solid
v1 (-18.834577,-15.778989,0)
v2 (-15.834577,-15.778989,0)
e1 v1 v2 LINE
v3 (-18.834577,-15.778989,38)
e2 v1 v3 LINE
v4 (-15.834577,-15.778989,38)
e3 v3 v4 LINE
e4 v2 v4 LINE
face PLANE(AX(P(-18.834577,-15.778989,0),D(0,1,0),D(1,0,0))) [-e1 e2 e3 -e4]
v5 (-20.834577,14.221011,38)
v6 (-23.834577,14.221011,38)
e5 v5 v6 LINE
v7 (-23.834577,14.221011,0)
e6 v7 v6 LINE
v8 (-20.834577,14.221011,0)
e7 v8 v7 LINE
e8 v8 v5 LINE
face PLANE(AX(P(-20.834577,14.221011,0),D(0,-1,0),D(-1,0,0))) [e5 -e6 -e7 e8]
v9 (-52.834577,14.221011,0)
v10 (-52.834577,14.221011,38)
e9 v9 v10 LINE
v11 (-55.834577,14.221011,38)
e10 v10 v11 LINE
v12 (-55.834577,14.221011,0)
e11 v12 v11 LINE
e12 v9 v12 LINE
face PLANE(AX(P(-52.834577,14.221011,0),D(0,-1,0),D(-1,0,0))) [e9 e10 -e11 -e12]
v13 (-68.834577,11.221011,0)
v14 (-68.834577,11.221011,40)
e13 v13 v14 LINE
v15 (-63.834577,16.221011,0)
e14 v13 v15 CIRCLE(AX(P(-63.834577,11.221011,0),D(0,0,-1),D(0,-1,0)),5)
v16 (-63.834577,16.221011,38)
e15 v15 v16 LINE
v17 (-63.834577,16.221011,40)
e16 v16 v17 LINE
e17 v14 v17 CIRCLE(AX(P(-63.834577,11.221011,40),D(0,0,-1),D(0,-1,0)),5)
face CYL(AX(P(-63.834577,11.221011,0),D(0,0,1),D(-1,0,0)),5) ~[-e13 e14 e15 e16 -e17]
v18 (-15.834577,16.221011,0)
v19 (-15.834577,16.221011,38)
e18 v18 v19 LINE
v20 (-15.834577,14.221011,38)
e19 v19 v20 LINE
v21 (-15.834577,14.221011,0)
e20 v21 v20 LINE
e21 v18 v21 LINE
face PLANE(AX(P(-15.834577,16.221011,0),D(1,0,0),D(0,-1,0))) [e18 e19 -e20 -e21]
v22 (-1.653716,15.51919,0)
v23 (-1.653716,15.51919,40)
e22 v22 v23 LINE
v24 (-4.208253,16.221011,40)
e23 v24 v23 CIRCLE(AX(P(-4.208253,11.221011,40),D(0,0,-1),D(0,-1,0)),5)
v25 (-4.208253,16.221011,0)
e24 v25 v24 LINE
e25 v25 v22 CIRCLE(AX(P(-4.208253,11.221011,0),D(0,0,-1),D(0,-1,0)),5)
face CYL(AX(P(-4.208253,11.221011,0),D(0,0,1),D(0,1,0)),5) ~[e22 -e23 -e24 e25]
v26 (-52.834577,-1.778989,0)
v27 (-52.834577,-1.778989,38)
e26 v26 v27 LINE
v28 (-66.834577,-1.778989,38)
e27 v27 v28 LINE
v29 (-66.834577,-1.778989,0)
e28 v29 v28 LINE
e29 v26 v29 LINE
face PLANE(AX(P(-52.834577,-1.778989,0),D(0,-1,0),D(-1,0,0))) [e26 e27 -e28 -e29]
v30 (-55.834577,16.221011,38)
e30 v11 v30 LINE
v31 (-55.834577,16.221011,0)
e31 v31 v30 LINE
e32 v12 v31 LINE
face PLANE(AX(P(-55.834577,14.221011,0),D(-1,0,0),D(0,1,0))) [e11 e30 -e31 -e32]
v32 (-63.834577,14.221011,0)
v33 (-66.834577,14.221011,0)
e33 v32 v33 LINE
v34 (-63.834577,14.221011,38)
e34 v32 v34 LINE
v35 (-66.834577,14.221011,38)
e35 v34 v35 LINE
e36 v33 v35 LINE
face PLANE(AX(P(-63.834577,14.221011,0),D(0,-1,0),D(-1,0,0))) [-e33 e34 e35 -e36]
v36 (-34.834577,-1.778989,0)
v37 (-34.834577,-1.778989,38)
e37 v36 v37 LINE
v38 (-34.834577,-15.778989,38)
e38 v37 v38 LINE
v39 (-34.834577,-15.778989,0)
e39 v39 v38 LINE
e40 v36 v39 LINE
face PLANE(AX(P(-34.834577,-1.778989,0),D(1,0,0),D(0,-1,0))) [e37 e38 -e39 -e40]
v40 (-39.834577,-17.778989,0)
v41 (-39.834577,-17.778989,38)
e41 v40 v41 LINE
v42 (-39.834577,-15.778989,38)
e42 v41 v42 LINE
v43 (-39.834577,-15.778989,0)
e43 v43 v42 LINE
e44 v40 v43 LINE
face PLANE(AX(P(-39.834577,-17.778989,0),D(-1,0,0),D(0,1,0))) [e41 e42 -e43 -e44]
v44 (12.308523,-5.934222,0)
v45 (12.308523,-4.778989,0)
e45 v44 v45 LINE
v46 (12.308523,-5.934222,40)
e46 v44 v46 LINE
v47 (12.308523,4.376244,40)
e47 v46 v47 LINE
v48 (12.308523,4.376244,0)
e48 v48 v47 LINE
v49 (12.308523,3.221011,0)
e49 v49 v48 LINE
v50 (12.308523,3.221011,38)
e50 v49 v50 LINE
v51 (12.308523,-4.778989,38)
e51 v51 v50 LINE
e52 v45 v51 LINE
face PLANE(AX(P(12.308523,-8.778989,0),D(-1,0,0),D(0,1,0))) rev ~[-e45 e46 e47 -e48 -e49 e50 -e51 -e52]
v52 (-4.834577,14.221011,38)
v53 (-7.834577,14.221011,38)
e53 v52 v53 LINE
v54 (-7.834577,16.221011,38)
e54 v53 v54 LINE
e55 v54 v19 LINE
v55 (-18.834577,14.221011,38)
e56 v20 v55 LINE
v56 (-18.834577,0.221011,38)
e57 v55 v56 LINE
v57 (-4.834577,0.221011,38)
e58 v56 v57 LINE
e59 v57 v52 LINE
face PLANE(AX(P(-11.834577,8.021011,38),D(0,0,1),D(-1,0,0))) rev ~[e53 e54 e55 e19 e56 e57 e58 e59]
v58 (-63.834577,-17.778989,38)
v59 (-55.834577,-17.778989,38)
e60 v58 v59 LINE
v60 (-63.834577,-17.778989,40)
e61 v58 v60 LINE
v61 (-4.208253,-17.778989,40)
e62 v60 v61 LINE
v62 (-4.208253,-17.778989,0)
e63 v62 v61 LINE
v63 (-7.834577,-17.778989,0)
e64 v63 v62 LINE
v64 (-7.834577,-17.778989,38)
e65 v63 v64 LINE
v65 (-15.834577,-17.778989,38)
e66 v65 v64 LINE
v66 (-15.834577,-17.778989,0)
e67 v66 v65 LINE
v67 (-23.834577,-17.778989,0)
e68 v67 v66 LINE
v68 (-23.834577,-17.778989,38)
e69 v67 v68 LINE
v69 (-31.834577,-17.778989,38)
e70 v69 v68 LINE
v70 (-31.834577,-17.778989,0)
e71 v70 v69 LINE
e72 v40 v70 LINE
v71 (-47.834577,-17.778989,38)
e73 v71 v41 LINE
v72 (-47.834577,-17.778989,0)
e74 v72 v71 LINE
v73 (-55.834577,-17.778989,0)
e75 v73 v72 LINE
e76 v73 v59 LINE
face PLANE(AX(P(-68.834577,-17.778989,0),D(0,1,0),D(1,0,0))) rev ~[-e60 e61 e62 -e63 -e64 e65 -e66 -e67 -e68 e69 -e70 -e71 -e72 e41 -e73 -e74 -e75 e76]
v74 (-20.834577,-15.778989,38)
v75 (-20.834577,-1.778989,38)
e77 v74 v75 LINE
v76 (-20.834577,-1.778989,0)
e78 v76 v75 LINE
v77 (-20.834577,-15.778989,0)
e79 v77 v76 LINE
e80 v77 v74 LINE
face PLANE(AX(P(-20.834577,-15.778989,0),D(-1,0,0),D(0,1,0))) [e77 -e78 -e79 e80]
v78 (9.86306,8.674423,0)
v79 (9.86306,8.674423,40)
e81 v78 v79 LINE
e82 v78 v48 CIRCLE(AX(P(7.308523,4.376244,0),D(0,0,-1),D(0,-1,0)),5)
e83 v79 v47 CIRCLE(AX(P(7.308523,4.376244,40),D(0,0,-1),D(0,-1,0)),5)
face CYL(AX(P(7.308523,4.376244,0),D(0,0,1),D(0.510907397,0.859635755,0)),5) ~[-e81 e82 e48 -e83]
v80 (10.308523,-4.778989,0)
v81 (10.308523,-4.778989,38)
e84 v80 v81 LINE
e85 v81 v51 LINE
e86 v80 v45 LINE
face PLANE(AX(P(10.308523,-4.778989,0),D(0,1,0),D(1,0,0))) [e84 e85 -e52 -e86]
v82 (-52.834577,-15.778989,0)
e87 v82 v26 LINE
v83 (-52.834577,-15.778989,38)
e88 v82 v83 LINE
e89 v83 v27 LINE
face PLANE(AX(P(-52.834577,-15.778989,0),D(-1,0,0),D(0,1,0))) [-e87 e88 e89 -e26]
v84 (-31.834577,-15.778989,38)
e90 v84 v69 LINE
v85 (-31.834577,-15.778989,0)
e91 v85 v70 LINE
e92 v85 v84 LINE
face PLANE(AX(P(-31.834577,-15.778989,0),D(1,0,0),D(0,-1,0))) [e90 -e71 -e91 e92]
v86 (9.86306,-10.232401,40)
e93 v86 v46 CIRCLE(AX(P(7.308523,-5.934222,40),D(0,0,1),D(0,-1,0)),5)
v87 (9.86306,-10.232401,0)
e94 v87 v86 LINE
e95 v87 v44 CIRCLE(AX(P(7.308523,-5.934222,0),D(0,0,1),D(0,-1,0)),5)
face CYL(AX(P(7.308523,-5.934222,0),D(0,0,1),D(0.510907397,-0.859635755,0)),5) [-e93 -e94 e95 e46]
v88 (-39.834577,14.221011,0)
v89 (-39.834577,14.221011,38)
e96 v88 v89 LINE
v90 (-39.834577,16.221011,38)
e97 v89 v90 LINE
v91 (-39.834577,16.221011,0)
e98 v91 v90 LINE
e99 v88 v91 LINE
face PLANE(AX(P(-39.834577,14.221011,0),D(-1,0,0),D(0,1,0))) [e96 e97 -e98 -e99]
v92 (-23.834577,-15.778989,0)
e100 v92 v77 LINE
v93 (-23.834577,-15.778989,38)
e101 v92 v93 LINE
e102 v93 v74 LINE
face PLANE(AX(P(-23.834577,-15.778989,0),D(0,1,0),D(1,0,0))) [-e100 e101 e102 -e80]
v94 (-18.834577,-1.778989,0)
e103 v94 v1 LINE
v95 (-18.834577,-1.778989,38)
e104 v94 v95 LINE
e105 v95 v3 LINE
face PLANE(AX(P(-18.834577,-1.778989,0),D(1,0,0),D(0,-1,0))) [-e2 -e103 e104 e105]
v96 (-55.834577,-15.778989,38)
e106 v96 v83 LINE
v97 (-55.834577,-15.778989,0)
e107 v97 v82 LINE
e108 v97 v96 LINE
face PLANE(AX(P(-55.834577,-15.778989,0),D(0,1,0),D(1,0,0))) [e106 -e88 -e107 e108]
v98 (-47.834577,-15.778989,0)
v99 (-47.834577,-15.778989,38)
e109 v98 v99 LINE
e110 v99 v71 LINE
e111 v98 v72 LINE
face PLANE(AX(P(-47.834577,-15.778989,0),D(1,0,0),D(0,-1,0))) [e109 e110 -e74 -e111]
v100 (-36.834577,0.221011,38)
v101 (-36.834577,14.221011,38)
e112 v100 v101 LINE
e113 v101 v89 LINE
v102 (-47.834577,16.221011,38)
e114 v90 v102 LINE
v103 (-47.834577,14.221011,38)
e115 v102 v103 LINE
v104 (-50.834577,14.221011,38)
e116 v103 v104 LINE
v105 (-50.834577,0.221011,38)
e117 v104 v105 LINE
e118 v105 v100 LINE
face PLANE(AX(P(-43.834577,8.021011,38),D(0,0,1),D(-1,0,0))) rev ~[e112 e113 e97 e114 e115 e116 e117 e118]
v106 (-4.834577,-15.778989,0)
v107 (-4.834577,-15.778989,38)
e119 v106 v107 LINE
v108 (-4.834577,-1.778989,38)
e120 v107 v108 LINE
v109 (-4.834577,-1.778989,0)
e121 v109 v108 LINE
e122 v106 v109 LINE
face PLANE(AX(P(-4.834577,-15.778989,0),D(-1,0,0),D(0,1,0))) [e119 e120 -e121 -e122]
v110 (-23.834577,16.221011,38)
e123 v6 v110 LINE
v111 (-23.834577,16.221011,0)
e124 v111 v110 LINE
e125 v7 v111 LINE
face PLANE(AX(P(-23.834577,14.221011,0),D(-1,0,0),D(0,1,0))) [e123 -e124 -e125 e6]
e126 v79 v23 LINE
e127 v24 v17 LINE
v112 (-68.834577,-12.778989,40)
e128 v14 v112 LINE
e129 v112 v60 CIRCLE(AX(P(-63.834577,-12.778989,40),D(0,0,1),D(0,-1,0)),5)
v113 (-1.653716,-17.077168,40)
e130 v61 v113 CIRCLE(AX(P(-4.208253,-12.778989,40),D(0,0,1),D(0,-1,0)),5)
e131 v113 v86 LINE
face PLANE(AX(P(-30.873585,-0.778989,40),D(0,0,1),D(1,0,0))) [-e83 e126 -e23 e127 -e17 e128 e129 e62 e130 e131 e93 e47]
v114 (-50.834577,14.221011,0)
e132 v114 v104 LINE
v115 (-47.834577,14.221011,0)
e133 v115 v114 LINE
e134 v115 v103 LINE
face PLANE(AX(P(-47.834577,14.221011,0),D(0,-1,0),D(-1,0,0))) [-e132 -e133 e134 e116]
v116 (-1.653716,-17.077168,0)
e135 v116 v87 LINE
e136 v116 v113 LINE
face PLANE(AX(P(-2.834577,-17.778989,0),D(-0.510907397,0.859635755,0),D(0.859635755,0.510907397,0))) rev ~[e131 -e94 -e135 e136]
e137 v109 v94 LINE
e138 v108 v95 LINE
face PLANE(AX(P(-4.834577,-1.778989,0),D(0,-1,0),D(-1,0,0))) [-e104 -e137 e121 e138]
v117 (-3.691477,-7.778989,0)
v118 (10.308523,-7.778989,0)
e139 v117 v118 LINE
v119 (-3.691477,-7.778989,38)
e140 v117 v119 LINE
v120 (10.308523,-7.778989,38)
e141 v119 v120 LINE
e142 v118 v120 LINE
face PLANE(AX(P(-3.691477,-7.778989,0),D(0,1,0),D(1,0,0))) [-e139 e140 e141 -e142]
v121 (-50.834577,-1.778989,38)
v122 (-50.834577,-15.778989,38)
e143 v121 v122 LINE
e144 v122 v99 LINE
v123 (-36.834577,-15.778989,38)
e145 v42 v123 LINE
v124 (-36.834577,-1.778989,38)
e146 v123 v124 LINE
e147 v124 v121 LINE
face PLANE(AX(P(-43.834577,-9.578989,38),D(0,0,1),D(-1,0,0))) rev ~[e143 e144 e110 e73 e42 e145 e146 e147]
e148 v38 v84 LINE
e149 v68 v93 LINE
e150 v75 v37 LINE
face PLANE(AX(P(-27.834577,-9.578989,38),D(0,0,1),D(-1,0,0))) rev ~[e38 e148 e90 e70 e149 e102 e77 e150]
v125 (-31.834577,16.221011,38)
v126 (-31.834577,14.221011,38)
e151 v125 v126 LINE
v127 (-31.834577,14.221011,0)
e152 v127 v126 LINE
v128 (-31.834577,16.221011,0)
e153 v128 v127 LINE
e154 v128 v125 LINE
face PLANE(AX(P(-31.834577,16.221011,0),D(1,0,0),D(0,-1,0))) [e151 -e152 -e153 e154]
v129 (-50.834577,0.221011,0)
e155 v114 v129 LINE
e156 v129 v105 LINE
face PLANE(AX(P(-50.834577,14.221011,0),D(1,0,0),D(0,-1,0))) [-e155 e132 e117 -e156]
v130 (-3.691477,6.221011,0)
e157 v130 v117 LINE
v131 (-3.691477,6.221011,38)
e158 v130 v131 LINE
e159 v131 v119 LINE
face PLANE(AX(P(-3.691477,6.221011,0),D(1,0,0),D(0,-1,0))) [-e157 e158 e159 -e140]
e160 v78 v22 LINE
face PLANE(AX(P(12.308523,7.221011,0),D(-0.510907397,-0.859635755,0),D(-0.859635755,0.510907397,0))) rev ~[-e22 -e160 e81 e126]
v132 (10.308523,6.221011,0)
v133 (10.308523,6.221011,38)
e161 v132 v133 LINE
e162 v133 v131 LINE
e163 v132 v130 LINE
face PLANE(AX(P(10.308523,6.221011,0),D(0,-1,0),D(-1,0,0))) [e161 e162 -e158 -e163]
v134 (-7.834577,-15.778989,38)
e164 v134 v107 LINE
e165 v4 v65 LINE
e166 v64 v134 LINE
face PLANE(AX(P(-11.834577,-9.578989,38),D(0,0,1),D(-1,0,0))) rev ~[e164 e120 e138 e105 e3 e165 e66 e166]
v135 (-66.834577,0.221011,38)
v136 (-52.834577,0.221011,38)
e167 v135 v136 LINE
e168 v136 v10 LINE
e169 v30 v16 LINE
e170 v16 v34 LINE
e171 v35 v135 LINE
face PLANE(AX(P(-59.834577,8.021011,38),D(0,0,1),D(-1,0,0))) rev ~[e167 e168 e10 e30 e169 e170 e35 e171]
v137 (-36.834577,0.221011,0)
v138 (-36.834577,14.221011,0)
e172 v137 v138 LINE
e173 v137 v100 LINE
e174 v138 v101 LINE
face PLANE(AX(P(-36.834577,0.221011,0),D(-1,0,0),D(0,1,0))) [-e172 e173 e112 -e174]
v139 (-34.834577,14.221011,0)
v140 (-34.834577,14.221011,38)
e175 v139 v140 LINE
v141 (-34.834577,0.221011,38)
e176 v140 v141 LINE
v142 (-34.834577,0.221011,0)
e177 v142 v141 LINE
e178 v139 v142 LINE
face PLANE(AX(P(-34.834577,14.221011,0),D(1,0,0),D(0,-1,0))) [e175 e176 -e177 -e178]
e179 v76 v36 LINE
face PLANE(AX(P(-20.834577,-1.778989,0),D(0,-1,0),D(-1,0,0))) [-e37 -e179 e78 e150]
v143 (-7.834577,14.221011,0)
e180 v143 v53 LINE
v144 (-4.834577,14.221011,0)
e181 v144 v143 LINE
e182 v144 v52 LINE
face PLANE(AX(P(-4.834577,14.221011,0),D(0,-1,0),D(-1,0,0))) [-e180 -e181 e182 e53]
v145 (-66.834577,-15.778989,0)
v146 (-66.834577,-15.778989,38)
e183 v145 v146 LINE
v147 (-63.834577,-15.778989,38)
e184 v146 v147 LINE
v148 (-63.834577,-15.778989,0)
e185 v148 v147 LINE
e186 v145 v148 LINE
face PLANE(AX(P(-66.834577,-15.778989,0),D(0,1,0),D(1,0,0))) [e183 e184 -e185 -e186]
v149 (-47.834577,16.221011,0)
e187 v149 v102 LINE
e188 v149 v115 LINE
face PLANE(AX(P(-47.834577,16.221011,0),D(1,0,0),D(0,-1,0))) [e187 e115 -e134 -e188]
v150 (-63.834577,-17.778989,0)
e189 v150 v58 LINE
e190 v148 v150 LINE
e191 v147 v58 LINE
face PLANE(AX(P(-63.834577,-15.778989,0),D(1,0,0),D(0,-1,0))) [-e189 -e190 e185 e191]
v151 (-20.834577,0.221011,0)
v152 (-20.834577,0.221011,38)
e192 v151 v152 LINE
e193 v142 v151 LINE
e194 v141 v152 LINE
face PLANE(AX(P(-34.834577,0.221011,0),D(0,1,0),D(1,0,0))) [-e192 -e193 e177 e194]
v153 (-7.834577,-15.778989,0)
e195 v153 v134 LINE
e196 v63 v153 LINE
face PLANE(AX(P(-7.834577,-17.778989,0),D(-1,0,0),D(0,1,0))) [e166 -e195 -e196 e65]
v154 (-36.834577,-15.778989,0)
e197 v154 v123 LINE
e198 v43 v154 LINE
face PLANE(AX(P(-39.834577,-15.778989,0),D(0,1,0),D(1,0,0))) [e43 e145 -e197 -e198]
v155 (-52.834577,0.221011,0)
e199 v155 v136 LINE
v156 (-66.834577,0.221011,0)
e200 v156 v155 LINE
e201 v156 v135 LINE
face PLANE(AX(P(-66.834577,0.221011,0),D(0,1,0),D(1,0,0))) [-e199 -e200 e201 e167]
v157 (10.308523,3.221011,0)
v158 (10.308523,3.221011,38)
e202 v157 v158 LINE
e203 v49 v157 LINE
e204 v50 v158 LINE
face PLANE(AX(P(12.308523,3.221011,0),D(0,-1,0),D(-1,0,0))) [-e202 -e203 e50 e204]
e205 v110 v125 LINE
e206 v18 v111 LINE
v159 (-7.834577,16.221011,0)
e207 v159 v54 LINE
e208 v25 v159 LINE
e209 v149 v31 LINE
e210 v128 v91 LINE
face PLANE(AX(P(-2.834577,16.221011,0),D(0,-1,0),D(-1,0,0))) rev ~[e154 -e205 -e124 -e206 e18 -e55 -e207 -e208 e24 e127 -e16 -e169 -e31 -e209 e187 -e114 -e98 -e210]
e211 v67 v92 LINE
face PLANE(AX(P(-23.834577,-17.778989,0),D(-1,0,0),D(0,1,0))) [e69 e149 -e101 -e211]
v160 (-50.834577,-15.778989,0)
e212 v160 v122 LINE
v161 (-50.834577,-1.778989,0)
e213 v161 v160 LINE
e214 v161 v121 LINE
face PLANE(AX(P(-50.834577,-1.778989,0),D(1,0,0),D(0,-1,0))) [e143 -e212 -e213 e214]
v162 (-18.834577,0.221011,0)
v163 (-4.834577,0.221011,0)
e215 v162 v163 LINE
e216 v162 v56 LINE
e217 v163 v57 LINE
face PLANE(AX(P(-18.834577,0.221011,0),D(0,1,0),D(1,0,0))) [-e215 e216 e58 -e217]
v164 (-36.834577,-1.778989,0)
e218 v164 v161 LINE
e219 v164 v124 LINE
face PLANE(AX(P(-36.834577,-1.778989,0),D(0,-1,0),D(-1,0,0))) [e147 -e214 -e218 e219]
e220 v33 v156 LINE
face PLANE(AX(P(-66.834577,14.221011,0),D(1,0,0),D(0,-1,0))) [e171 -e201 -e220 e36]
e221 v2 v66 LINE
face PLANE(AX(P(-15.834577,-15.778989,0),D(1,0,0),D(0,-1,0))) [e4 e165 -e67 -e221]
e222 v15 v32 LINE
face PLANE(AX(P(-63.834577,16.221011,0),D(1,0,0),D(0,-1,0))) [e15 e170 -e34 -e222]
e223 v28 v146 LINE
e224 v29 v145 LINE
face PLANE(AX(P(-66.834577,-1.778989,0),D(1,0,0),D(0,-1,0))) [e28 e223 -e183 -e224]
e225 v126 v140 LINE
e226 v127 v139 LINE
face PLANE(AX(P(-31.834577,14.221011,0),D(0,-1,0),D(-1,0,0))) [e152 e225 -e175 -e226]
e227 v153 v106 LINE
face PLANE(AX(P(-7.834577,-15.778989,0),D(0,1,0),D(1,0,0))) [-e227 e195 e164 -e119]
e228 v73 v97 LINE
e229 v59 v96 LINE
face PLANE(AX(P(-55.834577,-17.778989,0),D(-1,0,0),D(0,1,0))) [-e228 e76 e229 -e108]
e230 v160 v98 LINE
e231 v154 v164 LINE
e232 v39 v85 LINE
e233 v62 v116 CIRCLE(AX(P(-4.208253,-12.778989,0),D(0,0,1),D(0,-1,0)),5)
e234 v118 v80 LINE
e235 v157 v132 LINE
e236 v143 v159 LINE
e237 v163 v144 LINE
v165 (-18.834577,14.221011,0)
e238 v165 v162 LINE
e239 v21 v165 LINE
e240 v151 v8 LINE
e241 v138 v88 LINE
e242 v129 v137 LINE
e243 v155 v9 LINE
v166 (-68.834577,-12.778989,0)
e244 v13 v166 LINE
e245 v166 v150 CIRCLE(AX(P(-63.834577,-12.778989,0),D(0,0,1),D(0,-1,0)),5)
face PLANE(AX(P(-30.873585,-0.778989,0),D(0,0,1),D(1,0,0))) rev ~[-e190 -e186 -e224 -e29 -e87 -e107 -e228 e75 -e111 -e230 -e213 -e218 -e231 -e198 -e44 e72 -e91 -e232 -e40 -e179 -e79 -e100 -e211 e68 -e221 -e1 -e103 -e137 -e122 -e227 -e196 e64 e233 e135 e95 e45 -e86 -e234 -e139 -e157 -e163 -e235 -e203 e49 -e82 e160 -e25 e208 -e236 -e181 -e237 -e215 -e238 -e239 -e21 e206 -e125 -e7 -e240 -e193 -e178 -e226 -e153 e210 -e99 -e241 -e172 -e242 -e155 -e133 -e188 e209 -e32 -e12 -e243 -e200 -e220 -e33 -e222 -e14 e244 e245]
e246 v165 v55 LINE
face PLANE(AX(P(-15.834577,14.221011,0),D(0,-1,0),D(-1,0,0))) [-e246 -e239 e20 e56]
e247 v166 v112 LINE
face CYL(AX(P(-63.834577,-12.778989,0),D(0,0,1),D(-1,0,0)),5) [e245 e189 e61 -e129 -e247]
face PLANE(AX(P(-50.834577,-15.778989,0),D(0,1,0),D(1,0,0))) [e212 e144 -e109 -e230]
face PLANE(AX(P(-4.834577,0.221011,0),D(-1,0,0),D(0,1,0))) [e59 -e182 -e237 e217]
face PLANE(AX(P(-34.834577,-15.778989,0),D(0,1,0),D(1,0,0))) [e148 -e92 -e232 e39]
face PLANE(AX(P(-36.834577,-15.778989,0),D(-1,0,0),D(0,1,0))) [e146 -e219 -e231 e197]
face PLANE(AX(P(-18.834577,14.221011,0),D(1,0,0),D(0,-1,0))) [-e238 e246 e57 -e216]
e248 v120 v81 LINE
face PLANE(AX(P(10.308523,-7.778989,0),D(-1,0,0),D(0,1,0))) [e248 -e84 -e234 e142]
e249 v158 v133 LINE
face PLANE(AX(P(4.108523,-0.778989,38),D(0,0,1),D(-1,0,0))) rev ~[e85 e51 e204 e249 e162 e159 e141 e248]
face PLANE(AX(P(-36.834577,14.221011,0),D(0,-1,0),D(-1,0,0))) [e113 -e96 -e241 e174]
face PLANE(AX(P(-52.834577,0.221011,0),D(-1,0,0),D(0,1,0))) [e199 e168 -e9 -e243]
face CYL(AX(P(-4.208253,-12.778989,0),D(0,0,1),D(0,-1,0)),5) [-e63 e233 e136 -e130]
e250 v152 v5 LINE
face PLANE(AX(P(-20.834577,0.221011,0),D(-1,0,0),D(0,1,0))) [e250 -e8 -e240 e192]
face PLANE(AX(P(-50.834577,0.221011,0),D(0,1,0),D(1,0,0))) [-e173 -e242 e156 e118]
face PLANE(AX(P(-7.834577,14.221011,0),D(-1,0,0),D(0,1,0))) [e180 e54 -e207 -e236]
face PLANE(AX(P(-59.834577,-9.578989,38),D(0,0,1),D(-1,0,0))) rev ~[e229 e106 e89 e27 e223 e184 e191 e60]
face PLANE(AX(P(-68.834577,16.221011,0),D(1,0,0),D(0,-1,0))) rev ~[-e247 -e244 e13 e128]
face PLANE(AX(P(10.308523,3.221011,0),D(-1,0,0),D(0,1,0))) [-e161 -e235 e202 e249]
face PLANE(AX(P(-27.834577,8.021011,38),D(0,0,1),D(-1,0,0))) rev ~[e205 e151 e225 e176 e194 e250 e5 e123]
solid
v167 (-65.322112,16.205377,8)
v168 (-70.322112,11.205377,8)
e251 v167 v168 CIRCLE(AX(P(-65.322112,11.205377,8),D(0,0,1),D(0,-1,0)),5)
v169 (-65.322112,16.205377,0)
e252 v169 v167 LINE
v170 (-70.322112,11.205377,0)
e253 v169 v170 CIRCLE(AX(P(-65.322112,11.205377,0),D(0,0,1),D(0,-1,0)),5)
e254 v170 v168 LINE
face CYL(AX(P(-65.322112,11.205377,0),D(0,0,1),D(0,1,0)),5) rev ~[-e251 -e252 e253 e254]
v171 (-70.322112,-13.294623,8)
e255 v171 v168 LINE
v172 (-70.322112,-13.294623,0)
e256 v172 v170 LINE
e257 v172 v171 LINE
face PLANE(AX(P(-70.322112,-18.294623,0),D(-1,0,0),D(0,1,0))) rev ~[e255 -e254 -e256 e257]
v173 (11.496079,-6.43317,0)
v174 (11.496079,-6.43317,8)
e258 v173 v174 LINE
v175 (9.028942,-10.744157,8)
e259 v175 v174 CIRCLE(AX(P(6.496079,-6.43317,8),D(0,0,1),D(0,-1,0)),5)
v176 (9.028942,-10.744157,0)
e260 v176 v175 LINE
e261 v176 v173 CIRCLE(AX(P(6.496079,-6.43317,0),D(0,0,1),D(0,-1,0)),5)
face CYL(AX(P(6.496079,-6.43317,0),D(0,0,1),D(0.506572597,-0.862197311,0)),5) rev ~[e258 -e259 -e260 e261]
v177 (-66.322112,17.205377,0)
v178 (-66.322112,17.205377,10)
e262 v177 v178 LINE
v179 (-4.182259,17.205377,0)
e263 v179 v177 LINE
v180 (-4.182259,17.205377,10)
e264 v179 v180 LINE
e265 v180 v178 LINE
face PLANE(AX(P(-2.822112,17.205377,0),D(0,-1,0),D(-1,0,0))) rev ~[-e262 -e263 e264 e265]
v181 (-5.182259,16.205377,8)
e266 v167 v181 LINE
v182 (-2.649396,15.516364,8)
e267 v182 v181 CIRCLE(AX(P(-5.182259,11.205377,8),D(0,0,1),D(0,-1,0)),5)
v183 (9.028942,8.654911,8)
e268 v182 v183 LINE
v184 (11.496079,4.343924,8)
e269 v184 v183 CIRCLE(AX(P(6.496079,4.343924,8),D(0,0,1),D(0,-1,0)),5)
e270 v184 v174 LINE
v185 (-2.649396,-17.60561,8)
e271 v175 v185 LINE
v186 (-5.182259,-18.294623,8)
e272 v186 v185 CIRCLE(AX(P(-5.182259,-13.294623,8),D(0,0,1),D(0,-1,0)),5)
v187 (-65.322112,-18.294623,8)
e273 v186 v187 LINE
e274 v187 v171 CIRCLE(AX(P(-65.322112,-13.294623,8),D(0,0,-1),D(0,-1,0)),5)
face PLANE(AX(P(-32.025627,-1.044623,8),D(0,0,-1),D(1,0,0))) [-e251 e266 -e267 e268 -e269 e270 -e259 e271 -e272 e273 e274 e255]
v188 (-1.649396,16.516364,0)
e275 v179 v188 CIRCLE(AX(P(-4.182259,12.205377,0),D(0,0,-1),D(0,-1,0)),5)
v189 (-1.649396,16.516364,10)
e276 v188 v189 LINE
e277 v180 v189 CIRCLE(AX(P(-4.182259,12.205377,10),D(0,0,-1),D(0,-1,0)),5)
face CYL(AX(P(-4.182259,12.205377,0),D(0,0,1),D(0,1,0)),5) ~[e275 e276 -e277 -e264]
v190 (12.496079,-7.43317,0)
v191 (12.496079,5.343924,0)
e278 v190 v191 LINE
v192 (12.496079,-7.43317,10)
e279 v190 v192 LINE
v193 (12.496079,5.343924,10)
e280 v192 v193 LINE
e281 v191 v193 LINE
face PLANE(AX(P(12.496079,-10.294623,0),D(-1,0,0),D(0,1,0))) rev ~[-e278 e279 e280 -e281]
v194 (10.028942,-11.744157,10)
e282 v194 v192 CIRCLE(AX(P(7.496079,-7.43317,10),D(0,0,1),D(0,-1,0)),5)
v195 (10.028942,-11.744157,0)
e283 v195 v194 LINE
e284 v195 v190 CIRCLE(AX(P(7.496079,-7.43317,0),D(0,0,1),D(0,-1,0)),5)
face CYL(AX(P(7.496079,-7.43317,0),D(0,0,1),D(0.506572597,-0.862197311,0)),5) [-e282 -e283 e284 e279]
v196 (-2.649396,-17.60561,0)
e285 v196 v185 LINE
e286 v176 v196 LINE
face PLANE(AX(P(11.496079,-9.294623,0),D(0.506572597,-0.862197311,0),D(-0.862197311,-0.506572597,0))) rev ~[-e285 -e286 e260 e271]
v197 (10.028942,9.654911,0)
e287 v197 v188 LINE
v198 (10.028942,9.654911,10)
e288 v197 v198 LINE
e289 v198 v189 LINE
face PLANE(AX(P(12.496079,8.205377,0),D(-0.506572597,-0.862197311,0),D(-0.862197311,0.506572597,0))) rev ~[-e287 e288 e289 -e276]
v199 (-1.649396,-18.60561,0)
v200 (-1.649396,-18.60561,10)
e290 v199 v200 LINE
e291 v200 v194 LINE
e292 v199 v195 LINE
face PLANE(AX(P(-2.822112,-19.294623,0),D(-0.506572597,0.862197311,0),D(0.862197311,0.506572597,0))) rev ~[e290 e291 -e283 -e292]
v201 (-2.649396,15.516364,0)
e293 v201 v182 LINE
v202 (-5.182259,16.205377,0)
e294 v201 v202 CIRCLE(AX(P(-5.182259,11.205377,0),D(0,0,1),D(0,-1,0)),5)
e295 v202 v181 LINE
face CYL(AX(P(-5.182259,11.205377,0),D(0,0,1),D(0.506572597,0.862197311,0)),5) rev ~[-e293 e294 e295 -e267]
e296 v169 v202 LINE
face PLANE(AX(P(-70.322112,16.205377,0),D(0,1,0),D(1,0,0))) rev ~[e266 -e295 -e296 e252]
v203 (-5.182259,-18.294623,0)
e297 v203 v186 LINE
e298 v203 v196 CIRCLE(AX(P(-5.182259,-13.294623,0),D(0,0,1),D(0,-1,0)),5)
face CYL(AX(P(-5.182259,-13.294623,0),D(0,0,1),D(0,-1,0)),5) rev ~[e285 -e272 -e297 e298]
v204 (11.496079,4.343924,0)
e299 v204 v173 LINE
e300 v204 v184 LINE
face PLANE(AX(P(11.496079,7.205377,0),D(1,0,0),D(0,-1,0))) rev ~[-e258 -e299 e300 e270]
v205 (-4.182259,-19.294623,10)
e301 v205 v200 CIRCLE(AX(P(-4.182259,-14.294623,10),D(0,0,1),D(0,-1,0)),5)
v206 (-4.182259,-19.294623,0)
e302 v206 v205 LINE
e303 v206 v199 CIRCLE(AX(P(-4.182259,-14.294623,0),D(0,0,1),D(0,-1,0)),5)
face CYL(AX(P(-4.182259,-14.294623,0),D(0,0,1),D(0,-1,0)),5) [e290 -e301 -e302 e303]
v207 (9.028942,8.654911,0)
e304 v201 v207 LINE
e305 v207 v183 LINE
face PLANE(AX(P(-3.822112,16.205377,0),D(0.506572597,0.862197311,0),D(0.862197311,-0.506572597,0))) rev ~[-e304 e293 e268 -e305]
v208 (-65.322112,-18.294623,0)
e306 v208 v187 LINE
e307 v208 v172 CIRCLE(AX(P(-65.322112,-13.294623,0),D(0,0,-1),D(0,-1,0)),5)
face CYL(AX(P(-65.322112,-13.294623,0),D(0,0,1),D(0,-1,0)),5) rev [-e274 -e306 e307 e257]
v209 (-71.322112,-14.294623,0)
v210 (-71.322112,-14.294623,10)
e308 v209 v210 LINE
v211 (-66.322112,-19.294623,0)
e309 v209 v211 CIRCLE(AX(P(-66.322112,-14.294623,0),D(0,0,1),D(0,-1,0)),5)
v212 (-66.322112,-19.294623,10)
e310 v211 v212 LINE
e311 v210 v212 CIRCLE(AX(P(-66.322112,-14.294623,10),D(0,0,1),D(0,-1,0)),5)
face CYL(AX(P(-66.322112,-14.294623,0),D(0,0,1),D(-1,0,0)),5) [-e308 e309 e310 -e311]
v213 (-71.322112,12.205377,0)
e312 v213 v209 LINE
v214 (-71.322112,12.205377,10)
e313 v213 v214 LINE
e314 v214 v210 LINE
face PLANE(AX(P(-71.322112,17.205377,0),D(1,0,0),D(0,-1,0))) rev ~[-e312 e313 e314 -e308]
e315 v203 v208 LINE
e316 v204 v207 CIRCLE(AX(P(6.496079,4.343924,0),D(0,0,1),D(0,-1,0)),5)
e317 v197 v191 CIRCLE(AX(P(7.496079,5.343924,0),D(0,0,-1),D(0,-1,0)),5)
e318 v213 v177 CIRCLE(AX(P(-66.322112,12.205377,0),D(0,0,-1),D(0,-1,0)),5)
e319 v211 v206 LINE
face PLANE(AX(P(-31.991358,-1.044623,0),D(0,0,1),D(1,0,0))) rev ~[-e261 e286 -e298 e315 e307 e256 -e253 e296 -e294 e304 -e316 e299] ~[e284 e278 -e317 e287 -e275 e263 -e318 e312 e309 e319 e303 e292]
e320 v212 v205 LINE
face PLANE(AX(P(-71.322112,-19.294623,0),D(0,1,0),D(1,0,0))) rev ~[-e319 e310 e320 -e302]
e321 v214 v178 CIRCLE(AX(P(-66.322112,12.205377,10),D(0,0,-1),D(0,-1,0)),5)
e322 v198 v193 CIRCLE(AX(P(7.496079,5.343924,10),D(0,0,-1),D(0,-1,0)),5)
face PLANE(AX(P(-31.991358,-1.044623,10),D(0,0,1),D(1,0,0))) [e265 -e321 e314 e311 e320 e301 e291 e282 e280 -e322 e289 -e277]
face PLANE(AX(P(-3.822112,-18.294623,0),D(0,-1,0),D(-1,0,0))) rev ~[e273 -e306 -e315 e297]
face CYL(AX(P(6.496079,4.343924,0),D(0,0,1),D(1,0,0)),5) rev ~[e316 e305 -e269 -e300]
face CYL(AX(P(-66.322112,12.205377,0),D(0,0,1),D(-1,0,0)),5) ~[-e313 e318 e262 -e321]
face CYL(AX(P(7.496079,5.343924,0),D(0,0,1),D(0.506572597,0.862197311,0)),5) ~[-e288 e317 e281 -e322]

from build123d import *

# Parameters (mm, degrees)
PAD_DEPTH       = 40
POCKET_DEPTH    = 38
FILLET_R        = 5
PAD001_DEPTH    = 10
POCKET001_DEPTH = 8
FILLET001_R     = 5
FILLET002_R     = 5


with BuildPart() as fillet_body:
    # Sketch → Pad (new body)
    with BuildSketch(Plane.XY):
        Polygon((-68.834577, 16.221011), (-68.834577, -17.778989), (-2.834577, -17.778989), (12.308523, -8.778989), (12.308523, 7.221011), (-2.834577, 16.221011), align=None)
    extrude(amount=PAD_DEPTH)

    # Sketch001 → Pocket (cut)
    with BuildSketch(Plane(origin=(0, 0, 0), x_dir=(1, 0, 0), z_dir=(0, 0, -1))):
        Polygon((-52.834577, 15.778989), (-52.834577, 1.778989), (-66.834577, 1.778989), (-66.834577, 15.778989), (-63.834577, 15.778989), (-63.834577, 17.778989), (-55.834577, 17.778989), (-55.834577, 15.778989), align=None)
        Polygon((-66.834577, -0.221011), (-52.834577, -0.221011), (-52.834577, -14.221011), (-55.834577, -14.221011), (-55.834577, -16.221011), (-63.834577, -16.221011), (-63.834577, -14.221011), (-66.834577, -14.221011), align=None)
        Polygon((-36.834577, 1.778989), (-50.834577, 1.778989), (-50.834577, 15.778989), (-47.834577, 15.778989), (-47.834577, 17.778989), (-39.834577, 17.778989), (-39.834577, 15.778989), (-36.834577, 15.778989), align=None)
        Polygon((-36.834577, -0.221011), (-36.834577, -14.221011), (-39.834577, -14.221011), (-39.834577, -16.221011), (-47.834577, -16.221011), (-47.834577, -14.221011), (-50.834577, -14.221011), (-50.834577, -0.221011), align=None)
        Polygon((-20.834577, 15.778989), (-20.834577, 1.778989), (-34.834577, 1.778989), (-34.834577, 15.778989), (-31.834577, 15.778989), (-31.834577, 17.778989), (-23.834577, 17.778989), (-23.834577, 15.778989), align=None)
        Polygon((-20.834577, -0.221011), (-20.834577, -14.221011), (-23.834577, -14.221011), (-23.834577, -16.221011), (-31.834577, -16.221011), (-31.834577, -14.221011), (-34.834577, -14.221011), (-34.834577, -0.221011), align=None)
        Polygon((-4.834577, 1.778989), (-18.834577, 1.778989), (-18.834577, 15.778989), (-15.834577, 15.778989), (-15.834577, 17.778989), (-7.834577, 17.778989), (-7.834577, 15.778989), (-4.834577, 15.778989), align=None)
        Polygon((-4.834577, -0.221011), (-4.834577, -14.221011), (-7.834577, -14.221011), (-7.834577, -16.221011), (-15.834577, -16.221011), (-15.834577, -14.221011), (-18.834577, -14.221011), (-18.834577, -0.221011), align=None)
        Polygon((10.308523, -6.221011), (-3.691477, -6.221011), (-3.691477, 7.778989), (10.308523, 7.778989), (10.308523, 4.778989), (12.308523, 4.778989), (12.308523, -3.221011), (10.308523, -3.221011), align=None)
    extrude(amount=-POCKET_DEPTH, mode=Mode.SUBTRACT)

    # Fillet
    fillet_edges = [fillet_body.edges().sort_by_distance(p)[0] for p in [
        (12.308523, 7.221011, 20),
        (-2.834577, 16.221011, 20),
        (-68.834577, 16.221011, 20),
        (12.308523, -8.778989, 20),
        (-2.834577, -17.778989, 20),
        (-68.834577, -17.778989, 20),
    ]]
    fillet(fillet_edges, radius=FILLET_R)


with BuildPart() as fillet002:
    # Sketch002 → Pad001 (new body)
    with BuildSketch(Plane.XY):
        Polygon((-71.322112, 17.205377), (-71.322112, -19.294623), (-2.822112, -19.294623), (12.496079, -10.294623), (12.496079, 8.205377), (-2.822112, 17.205377), align=None)
    extrude(amount=PAD001_DEPTH)

    # Sketch003 → Pocket001 (cut)
    with BuildSketch(Plane(origin=(0, 0, 0), x_dir=(1, 0, 0), z_dir=(0, 0, -1))):
        Polygon((-70.322112, 18.294623), (-70.322112, -16.205377), (-3.822112, -16.205377), (11.496079, -7.205377), (11.496079, 9.294623), (-3.822112, 18.294623), align=None)
    extrude(amount=-POCKET001_DEPTH, mode=Mode.SUBTRACT)

    # Fillet001
    fillet001_edges = [fillet002.edges().sort_by_distance(p)[0] for p in [
        (11.496079, -9.294623, 4),
        (11.496079, 7.205377, 4),
        (-3.822112, 16.205377, 4),
        (-3.822112, -18.294623, 4),
        (-70.322112, -18.294623, 4),
        (-70.322112, 16.205377, 4),
    ]]
    fillet(fillet001_edges, radius=FILLET001_R)

    # Fillet002
    fillet002_edges = [fillet002.edges().sort_by_distance(p)[0] for p in [
        (-71.322112, 17.205377, 5),
        (-71.322112, -19.294623, 5),
        (-2.822112, 17.205377, 5),
        (12.496079, 8.205377, 5),
        (12.496079, -10.294623, 5),
        (-2.822112, -19.294623, 5),
    ]]
    fillet(fillet002_edges, radius=FILLET002_R)


solid = Compound([fillet_body.part, fillet002.part])
